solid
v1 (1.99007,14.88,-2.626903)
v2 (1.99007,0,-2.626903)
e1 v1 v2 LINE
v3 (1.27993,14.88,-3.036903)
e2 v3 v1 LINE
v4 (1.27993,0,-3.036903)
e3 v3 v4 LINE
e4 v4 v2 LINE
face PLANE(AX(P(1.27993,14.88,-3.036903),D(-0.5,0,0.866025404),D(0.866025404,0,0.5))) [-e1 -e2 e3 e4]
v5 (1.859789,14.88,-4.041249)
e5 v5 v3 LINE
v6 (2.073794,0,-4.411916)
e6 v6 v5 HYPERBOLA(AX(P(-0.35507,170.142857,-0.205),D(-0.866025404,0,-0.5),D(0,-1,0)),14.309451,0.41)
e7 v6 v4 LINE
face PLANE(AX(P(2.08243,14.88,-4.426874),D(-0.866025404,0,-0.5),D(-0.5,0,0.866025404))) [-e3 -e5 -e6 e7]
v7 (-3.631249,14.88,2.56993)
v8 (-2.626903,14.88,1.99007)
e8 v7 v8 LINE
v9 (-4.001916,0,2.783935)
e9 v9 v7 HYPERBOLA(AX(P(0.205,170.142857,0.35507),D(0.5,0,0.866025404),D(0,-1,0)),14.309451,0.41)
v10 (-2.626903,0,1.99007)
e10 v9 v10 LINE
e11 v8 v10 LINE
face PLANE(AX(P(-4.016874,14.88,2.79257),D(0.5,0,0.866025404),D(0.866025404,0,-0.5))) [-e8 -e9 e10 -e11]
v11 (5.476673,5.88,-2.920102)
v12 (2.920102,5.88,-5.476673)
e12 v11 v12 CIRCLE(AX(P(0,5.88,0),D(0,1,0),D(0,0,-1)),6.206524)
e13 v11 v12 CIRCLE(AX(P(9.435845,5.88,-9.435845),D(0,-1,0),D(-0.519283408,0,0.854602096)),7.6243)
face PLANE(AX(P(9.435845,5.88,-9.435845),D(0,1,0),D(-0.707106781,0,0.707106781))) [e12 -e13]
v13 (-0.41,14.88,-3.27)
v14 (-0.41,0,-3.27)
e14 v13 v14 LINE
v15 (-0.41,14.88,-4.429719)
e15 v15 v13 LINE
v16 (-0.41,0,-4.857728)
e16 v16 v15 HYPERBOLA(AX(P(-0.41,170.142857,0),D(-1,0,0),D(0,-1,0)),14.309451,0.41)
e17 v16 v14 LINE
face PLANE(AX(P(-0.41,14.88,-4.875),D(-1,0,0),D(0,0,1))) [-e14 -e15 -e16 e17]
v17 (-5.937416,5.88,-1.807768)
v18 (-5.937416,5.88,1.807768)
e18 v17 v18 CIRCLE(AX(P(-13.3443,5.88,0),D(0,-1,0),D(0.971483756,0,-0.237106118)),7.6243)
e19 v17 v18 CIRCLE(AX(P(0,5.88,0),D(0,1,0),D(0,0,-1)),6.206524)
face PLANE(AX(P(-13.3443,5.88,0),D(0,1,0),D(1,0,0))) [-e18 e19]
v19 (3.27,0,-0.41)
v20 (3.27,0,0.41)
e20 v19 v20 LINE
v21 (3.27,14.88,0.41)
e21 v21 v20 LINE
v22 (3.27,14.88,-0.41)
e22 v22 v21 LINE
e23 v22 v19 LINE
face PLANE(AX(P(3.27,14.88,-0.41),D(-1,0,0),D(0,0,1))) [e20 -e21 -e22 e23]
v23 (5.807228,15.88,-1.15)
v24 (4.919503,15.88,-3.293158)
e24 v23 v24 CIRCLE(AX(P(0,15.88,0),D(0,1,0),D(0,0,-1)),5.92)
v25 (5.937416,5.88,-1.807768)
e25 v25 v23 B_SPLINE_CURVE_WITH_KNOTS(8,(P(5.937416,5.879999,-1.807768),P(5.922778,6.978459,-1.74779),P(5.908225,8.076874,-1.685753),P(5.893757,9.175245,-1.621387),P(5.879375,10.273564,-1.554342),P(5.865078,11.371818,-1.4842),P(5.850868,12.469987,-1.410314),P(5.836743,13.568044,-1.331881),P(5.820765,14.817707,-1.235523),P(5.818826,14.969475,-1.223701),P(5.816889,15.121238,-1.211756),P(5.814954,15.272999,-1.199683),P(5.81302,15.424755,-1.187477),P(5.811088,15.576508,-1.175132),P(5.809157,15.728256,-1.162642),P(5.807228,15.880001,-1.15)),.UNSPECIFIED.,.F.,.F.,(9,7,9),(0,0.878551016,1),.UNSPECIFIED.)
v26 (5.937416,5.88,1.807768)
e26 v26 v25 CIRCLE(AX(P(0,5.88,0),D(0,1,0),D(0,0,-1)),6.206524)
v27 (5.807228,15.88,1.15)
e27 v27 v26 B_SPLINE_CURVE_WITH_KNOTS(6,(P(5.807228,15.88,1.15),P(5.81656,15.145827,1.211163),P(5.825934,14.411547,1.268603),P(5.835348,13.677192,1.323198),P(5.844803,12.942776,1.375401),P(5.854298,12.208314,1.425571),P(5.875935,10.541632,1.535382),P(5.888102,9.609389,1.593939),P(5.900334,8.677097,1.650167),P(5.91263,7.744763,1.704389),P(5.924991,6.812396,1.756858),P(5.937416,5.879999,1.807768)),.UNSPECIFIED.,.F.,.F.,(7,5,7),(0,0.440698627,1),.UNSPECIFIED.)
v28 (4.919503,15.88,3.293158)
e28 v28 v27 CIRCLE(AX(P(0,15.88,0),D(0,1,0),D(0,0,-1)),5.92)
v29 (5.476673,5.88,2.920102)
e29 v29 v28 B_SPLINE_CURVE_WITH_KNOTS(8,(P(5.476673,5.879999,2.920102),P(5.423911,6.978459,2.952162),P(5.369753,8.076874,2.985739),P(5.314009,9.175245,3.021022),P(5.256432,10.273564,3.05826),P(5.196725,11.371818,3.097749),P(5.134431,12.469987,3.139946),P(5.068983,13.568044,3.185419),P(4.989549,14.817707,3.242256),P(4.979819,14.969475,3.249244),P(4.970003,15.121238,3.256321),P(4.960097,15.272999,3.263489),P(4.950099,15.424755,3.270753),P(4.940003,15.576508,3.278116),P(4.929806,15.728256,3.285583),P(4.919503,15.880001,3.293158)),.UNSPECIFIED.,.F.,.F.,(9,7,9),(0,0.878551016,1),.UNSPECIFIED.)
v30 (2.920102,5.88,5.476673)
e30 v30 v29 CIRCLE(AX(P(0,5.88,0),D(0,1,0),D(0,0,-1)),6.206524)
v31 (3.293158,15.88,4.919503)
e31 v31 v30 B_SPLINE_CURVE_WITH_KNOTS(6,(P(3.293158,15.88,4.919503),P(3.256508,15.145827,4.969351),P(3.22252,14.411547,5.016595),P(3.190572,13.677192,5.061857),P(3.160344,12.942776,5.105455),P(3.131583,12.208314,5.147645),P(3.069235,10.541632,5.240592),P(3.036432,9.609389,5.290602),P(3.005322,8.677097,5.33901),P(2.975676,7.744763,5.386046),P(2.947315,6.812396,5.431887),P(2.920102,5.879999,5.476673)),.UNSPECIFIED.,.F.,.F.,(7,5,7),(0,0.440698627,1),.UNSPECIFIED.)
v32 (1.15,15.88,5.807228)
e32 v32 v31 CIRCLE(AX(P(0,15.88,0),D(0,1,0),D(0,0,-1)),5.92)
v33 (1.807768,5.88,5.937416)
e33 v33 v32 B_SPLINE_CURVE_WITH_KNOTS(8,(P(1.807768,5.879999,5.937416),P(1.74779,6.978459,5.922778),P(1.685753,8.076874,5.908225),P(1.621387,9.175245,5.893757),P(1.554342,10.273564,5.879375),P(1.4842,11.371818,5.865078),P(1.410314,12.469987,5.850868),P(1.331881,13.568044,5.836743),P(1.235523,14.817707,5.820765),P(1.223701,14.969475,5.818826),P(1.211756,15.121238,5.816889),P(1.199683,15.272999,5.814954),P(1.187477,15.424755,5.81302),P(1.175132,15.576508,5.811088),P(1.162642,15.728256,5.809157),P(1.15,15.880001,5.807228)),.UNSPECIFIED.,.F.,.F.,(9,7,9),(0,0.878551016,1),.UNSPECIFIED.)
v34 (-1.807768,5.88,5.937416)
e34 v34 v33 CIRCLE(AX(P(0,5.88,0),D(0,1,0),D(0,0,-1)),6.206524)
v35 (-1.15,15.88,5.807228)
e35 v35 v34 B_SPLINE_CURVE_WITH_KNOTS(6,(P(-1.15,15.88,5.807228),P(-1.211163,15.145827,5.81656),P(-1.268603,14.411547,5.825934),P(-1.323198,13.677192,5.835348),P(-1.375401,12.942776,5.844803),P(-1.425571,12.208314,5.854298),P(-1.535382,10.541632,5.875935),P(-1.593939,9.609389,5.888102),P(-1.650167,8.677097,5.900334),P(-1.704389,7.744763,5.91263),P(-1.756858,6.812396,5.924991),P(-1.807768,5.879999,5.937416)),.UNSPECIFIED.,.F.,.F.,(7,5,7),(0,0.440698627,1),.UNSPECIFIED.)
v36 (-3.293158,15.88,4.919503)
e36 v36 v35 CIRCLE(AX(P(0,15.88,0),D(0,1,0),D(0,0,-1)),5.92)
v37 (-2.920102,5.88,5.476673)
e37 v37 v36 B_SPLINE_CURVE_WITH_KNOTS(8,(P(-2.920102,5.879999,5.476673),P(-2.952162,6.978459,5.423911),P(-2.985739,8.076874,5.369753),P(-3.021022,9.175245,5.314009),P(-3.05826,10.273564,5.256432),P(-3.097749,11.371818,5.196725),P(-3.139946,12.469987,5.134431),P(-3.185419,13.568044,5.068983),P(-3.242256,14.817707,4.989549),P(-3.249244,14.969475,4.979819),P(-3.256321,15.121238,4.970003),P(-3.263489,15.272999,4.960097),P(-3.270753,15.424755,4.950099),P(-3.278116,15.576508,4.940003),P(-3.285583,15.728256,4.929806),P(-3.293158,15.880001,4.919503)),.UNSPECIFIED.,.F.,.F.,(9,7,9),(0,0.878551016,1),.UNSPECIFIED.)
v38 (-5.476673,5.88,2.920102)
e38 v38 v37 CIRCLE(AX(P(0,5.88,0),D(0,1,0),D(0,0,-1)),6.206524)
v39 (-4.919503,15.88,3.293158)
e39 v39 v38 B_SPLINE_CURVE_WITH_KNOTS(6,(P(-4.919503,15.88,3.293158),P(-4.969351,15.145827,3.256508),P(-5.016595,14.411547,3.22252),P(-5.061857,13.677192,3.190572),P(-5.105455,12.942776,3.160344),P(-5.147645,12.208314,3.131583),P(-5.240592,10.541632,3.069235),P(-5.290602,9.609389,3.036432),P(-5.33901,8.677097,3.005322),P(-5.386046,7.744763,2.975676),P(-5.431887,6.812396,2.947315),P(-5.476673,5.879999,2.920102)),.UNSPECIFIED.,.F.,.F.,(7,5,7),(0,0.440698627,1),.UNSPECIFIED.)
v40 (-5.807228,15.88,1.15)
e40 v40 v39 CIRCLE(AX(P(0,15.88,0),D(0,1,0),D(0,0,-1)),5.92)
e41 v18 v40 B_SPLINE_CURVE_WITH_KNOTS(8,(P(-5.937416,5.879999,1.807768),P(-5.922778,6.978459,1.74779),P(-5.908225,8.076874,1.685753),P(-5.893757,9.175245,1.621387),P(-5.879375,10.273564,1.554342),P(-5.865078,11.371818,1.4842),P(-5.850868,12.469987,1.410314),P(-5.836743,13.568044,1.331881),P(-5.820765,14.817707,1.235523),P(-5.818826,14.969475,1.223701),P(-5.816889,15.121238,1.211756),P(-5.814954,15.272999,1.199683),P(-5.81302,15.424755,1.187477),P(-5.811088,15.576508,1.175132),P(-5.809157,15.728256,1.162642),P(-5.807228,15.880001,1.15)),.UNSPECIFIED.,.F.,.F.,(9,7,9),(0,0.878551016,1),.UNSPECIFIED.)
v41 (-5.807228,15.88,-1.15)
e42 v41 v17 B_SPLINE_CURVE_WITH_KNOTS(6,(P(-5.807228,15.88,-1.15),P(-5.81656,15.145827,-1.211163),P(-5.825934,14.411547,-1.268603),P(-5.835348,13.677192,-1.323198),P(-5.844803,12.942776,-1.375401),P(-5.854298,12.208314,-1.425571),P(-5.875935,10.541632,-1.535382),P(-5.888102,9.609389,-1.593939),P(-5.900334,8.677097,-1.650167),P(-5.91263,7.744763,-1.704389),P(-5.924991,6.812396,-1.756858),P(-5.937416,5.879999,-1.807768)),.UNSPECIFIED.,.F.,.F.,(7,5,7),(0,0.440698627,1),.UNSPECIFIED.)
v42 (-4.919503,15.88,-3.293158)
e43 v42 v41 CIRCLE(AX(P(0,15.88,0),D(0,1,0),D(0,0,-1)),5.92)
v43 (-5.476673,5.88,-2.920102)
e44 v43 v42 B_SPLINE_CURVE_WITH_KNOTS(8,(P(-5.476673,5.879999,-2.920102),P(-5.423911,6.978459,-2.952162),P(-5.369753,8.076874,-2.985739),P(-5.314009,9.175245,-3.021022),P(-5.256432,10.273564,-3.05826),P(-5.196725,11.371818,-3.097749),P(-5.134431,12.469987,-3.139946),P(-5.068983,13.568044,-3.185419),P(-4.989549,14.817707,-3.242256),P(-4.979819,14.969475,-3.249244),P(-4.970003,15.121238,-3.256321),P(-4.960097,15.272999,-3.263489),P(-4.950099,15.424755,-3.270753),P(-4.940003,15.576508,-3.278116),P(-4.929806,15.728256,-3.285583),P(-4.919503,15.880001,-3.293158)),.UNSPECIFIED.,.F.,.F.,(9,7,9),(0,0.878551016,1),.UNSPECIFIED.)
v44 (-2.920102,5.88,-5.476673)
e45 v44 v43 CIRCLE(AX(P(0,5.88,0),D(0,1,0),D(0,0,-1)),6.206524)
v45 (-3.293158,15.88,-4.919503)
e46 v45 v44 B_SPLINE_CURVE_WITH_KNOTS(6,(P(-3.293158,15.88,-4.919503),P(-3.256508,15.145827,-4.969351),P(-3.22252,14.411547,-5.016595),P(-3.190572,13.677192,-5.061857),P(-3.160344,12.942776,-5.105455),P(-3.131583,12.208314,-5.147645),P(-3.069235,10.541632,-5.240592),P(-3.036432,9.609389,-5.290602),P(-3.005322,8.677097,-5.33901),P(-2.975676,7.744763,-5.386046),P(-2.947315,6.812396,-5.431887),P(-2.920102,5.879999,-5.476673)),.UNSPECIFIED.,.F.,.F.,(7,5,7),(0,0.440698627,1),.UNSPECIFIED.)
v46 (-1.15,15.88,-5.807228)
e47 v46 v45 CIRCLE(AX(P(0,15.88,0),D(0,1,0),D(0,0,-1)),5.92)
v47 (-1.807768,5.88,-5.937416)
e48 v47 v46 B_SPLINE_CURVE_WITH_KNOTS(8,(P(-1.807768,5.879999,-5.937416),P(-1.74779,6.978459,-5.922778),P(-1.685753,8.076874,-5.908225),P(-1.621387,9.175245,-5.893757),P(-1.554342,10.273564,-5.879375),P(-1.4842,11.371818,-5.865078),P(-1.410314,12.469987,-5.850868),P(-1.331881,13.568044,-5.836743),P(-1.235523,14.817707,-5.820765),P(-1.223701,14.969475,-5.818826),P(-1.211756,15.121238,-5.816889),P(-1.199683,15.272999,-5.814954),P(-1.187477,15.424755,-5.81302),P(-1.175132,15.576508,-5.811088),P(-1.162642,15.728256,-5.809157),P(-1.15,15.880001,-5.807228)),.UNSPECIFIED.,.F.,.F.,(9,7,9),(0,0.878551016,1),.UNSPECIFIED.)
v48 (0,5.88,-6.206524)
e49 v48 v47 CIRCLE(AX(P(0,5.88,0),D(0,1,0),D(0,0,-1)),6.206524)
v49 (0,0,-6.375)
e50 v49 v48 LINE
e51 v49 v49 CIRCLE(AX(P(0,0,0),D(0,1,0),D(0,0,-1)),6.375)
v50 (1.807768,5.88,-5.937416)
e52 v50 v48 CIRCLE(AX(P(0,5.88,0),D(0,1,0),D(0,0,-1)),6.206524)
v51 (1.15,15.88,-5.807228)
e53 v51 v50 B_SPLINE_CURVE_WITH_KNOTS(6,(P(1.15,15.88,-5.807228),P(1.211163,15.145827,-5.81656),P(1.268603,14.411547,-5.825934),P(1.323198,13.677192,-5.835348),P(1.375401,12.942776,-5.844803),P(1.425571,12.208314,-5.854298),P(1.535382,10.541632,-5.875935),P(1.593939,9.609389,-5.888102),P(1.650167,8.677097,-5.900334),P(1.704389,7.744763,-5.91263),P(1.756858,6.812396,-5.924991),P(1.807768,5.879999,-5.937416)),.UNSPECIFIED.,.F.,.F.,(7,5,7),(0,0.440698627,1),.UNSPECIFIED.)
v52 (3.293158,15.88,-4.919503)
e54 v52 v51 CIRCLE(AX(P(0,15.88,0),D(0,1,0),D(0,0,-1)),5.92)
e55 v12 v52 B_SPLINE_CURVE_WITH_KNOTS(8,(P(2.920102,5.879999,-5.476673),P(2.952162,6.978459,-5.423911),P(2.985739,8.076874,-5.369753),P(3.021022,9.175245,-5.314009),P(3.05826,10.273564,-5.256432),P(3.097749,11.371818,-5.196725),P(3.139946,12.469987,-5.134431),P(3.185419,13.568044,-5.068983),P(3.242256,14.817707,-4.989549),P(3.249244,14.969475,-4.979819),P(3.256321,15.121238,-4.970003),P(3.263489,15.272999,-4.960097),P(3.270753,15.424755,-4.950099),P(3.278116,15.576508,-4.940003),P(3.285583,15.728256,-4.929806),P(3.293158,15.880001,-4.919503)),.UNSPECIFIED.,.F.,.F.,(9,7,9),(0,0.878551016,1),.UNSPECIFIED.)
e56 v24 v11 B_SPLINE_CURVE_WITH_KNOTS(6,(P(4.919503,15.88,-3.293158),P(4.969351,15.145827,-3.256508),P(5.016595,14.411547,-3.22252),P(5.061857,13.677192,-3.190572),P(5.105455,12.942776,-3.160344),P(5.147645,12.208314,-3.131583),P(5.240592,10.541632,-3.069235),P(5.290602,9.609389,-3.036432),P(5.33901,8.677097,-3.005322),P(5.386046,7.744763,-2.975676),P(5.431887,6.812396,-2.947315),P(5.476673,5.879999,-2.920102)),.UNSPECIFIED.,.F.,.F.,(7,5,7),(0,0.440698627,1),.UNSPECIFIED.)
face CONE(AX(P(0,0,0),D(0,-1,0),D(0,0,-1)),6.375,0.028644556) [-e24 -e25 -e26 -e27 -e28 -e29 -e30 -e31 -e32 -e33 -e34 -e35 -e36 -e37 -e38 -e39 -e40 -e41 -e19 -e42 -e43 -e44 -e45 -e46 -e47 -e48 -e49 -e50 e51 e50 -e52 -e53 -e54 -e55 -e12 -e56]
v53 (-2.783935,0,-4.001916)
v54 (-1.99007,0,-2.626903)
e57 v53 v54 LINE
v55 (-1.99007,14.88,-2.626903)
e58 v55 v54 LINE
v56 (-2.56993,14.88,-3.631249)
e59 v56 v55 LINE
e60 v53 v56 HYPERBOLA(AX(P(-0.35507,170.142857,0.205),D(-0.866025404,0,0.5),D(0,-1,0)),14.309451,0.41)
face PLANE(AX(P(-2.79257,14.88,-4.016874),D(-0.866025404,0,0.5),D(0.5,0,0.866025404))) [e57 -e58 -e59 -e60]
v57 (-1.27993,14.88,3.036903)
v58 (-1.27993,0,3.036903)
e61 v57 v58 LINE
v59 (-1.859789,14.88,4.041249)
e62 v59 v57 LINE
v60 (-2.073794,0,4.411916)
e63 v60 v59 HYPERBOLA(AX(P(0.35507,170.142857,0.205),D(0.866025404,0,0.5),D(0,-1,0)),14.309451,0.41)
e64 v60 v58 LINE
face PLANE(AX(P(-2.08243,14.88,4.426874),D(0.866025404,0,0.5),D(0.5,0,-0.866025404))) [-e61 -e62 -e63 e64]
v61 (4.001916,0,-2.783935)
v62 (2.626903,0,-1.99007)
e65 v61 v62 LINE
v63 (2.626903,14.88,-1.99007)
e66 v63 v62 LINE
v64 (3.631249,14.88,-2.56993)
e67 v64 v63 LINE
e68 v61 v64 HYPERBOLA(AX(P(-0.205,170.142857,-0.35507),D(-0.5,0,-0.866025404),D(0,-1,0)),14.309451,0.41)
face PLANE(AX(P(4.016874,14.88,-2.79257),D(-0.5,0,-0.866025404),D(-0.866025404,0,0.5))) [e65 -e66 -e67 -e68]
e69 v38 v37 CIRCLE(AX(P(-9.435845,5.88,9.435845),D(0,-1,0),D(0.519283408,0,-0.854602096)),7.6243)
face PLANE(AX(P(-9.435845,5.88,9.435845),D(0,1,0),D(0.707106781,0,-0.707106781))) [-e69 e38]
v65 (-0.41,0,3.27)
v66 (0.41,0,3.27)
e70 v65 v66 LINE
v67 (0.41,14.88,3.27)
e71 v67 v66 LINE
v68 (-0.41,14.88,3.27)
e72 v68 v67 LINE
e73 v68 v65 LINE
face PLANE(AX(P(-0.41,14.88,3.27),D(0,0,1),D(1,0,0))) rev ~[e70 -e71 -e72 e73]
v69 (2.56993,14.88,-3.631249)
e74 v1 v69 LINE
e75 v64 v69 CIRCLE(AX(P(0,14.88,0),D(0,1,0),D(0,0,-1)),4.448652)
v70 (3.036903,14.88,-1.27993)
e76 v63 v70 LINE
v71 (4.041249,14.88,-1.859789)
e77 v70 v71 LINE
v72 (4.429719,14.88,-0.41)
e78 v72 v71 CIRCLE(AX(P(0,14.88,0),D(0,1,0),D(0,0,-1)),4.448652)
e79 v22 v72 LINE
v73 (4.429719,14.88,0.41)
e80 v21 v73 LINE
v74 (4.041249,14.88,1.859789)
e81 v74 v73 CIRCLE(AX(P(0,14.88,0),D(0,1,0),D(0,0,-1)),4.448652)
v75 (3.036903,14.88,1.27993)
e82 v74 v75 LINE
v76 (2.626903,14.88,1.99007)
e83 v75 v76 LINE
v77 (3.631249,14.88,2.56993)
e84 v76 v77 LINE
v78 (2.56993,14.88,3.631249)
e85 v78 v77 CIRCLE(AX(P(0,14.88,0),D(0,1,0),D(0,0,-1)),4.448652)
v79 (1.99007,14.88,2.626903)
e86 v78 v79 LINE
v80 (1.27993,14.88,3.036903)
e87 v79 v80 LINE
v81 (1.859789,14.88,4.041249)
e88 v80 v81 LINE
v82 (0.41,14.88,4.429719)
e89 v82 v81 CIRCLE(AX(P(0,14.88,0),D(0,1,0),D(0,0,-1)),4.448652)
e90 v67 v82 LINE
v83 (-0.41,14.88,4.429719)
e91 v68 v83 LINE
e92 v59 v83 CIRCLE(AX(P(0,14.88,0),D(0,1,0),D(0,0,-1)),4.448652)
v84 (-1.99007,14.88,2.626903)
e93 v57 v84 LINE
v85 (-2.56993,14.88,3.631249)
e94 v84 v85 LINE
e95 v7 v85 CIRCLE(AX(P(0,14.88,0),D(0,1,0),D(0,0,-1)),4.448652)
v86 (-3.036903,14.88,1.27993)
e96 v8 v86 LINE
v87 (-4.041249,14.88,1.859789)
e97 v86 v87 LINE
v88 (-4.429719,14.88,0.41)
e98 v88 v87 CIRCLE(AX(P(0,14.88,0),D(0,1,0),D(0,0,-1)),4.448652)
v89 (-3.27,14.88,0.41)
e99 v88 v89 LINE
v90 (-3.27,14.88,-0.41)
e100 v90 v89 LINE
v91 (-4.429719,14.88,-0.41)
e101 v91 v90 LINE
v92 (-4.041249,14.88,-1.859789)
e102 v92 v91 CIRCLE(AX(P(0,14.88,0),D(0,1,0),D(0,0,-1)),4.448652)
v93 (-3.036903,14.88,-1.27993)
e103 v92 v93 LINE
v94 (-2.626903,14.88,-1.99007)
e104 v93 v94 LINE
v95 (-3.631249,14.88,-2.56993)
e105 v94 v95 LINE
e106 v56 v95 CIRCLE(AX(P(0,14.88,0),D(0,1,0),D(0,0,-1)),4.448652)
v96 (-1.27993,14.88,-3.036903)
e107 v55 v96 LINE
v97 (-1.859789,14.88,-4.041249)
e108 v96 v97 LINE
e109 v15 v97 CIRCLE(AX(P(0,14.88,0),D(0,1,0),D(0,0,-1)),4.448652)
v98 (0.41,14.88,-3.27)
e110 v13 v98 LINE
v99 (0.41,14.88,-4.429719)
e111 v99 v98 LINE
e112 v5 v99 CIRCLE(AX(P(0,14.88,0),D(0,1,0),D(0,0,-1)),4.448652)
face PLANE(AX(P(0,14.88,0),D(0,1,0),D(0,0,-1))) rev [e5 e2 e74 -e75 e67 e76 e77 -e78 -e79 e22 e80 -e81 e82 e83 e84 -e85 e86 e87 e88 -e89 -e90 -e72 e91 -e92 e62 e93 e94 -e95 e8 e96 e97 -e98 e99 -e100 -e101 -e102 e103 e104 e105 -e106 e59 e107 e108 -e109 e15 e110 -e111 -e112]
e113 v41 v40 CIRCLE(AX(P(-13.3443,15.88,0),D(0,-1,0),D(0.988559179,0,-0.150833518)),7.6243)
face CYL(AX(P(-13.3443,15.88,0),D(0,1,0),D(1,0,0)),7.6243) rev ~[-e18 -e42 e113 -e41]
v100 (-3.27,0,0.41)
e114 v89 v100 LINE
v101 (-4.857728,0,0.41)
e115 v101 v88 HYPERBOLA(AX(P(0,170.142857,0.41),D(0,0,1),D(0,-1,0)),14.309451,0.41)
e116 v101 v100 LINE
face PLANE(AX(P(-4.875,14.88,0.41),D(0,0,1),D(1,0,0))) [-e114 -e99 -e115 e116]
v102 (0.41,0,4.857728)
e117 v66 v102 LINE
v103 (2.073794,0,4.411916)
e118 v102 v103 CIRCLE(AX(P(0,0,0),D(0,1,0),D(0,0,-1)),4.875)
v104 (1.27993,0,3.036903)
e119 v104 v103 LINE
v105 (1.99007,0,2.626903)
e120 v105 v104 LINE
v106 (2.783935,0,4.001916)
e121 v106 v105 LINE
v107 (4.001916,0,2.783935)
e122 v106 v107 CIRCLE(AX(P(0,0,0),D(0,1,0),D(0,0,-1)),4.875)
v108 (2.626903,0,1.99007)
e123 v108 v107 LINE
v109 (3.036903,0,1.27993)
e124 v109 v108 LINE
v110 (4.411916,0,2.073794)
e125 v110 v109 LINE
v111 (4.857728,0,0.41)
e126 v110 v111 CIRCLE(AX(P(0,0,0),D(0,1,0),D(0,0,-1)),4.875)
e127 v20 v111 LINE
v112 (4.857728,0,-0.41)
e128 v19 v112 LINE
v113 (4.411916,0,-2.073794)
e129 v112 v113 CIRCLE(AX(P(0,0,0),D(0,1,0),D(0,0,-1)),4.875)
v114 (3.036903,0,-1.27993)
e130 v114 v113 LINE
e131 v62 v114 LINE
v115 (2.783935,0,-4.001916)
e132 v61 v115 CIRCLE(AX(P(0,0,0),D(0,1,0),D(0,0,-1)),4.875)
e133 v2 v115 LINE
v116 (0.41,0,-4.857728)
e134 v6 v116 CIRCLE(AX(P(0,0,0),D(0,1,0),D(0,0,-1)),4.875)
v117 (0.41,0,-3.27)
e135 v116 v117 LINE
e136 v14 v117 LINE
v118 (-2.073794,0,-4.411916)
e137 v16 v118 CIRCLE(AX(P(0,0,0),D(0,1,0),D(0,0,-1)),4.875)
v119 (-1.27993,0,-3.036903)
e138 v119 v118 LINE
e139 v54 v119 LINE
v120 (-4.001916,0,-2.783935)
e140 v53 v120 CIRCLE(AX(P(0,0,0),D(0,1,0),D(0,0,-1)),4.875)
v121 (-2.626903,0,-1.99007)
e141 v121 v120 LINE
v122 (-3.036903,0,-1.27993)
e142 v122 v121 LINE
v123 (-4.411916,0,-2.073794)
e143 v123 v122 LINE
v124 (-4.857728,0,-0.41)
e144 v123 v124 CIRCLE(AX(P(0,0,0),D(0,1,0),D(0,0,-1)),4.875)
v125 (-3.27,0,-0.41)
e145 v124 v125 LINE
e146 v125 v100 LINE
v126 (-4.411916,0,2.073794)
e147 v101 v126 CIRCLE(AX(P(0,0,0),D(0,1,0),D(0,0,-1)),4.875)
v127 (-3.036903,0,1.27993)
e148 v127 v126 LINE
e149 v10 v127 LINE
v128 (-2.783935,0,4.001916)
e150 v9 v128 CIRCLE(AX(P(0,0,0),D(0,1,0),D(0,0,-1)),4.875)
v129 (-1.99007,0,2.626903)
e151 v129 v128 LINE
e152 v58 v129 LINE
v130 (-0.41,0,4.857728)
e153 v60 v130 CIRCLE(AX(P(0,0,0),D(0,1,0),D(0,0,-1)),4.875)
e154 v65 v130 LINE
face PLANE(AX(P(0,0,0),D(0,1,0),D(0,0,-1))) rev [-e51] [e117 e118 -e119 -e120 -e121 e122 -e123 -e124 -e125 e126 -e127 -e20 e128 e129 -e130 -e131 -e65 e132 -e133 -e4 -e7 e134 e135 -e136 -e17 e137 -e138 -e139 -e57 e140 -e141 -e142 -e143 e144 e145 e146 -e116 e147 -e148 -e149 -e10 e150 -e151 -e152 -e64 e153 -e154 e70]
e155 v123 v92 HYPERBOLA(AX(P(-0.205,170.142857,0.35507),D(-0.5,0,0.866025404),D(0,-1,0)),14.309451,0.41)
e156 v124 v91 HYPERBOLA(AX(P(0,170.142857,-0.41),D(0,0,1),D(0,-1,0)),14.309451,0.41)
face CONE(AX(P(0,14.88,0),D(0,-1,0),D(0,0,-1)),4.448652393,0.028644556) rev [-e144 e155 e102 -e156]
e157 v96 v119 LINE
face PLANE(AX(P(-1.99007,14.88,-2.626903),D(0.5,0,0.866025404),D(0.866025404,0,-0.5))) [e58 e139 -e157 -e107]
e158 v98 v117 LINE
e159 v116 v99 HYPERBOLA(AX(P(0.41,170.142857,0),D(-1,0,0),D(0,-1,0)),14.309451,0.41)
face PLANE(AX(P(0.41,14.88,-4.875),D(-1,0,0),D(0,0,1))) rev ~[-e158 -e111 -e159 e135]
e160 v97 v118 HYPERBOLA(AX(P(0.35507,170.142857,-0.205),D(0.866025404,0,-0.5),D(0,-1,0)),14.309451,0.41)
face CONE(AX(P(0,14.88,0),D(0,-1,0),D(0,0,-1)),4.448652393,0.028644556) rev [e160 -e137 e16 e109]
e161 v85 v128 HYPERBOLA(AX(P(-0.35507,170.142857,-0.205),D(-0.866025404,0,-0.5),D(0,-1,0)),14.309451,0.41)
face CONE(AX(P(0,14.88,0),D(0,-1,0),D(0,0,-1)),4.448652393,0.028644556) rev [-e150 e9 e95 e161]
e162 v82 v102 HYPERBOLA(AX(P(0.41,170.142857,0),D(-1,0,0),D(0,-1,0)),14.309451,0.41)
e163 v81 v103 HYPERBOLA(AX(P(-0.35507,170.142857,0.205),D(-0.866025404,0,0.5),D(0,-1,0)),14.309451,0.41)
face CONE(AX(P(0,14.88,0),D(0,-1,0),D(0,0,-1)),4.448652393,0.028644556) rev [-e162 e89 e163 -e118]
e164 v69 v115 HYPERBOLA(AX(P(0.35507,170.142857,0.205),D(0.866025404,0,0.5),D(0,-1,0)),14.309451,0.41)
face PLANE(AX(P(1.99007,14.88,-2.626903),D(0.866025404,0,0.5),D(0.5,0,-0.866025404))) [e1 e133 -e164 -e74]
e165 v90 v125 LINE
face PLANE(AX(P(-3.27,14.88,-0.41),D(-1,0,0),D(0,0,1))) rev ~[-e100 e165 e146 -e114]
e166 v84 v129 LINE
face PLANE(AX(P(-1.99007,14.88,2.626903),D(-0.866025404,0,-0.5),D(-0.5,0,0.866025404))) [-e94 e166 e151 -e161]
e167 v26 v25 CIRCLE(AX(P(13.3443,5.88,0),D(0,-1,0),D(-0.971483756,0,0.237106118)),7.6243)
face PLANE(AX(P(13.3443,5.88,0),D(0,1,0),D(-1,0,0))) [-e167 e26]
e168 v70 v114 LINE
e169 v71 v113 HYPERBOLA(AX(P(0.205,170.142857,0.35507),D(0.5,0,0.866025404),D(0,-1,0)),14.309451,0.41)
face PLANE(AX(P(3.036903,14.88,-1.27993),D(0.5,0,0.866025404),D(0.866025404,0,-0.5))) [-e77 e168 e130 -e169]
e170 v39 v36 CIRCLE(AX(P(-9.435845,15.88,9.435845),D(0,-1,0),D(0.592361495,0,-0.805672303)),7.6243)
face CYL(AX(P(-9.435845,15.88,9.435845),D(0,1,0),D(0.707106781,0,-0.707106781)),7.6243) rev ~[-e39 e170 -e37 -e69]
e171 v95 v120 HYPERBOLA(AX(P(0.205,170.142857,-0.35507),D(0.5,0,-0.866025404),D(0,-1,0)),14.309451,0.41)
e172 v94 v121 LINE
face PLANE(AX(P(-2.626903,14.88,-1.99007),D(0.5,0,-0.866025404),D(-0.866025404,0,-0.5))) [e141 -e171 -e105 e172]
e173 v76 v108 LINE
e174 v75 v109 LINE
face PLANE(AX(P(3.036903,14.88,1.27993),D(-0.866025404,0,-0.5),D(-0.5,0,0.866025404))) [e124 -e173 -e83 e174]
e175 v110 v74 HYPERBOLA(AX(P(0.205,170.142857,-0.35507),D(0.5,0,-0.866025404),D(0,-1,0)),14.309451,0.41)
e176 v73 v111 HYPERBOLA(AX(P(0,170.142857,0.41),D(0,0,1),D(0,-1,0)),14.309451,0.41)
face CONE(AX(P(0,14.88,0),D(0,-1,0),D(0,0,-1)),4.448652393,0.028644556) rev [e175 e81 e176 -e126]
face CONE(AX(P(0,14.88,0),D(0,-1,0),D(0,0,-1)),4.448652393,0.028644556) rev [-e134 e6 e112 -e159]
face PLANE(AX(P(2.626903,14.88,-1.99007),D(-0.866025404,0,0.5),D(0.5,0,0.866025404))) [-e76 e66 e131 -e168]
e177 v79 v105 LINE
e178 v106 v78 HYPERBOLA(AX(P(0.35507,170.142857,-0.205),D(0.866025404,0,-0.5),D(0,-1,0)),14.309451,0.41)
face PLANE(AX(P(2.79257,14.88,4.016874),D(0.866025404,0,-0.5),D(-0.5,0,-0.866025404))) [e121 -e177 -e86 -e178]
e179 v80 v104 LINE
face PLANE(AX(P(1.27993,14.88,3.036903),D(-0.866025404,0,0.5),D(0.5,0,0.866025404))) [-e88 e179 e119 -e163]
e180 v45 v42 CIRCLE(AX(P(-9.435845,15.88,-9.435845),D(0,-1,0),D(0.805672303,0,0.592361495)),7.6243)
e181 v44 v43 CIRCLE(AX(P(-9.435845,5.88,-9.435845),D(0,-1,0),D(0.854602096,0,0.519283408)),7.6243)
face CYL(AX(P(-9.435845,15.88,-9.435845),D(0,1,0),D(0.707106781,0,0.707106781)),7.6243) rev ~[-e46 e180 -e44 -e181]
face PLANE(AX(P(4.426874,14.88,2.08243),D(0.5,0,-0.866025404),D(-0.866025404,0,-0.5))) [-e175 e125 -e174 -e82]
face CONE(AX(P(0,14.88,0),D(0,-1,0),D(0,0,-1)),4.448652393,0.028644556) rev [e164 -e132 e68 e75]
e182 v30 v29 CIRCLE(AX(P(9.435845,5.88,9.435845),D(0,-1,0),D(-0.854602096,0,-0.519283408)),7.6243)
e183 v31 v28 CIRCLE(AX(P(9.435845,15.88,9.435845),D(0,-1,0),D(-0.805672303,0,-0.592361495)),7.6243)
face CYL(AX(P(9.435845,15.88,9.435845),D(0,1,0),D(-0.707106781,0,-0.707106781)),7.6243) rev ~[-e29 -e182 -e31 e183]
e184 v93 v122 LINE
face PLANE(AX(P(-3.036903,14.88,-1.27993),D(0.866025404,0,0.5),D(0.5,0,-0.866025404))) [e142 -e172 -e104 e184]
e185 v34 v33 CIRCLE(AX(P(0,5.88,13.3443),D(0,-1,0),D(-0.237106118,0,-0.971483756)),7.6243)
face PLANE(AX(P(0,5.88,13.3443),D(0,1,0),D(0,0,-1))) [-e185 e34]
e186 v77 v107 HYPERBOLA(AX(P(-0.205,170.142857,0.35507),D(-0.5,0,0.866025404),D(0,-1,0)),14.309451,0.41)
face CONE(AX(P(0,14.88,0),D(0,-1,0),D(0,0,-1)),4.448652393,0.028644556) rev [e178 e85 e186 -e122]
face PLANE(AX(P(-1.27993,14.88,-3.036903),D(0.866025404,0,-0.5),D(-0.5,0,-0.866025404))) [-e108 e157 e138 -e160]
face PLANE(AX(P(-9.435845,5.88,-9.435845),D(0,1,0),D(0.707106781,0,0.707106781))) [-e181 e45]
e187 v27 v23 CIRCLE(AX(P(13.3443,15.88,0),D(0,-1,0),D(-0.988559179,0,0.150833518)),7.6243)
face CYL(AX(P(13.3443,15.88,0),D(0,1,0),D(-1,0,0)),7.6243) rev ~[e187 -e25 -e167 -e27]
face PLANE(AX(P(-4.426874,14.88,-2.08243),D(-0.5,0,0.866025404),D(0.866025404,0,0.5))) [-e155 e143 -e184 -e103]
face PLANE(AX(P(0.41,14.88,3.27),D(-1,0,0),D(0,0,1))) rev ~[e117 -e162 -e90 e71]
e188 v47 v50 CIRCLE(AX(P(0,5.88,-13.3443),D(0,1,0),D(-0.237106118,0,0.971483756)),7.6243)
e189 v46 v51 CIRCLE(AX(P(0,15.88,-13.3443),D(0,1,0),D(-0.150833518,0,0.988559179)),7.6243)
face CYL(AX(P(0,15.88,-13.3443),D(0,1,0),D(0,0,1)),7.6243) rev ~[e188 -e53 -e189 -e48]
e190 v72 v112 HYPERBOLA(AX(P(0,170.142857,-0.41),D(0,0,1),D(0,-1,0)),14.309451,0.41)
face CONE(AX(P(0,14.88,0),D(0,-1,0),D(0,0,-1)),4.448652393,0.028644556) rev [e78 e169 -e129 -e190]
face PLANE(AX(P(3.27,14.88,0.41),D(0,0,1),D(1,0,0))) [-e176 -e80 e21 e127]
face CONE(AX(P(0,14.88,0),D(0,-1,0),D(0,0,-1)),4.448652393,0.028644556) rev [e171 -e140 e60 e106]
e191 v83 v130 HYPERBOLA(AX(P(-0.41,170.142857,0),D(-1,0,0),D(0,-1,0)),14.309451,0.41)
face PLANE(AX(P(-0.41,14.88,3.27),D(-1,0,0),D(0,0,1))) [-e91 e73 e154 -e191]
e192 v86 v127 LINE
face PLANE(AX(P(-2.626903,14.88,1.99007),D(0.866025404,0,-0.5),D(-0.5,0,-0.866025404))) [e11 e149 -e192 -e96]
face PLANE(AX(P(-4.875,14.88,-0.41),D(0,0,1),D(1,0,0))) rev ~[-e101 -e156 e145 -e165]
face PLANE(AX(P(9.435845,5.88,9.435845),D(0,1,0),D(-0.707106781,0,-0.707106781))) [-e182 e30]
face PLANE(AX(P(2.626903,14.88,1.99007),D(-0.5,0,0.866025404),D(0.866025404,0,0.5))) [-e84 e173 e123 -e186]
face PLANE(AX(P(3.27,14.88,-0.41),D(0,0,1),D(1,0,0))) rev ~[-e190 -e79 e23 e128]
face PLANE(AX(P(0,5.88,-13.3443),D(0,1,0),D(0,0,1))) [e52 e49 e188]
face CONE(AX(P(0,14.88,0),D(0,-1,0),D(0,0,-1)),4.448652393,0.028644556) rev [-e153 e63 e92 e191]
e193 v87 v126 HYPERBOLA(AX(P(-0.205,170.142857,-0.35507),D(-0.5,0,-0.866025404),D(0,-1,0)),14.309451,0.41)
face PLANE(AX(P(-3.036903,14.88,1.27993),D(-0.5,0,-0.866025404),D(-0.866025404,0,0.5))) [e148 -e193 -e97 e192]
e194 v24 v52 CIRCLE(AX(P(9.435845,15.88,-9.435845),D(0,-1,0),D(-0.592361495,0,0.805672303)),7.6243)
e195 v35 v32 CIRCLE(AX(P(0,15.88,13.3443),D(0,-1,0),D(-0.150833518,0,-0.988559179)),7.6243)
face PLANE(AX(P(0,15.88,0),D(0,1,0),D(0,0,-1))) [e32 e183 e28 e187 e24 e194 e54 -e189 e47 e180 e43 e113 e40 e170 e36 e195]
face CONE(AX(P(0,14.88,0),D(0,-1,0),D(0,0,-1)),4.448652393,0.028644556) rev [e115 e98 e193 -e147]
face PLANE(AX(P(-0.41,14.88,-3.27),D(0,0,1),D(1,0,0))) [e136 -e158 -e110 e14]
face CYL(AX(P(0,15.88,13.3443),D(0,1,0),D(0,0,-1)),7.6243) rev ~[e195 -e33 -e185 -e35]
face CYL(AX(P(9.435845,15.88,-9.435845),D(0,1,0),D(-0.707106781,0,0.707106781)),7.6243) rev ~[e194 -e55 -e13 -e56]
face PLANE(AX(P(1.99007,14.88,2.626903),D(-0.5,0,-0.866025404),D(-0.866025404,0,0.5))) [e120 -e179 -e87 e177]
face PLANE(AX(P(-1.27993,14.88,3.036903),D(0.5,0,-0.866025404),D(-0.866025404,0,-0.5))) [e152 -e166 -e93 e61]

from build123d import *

# Parameters (mm, degrees)
SKETCH2_R           = 7.624300038
CUT_EXTRUDE1_DEPTH  = 10
CIRPATTERN1_COUNT   = 8
SKETCH3_W           = 1.605
SKETCH3_H           = 0.82
SKETCH3_W_2         = 0.82
SKETCH3_H_2         = 1.605
BOSS_EXTRUDE1_DEPTH = 14.88


with BuildPart() as part:
    # Sketch1 → Revolve1 (revolve)
    with BuildSketch(Plane.XY, mode=Mode.PRIVATE) as revolve1_sk:
        Polygon((-6.375, 0), (-5.92, 15.88), (0, 15.88), (0, 14.88), (-4.448652393, 14.88), (-4.875, 0), align=None)
    revolve(revolve1_sk.sketch.rotate(Axis((0, 0, 0), (0, 1, 0)), 270), axis=Axis((0, 0, 0), (0, 1, 0)))

    # Sketch2 → Cut-Extrude1 (cut)
    with BuildSketch(Plane(origin=(0, 15.88, 0), x_dir=(1, 0, 0), z_dir=(0, 1, 0))):
        with Locations((-13.344300038, 0)):
            Circle(SKETCH2_R)
    cut_extrude1 = extrude(amount=-CUT_EXTRUDE1_DEPTH, mode=Mode.SUBTRACT)

    # CirPattern1: Cut-Extrude1 ×8 about axis
    cirpattern1_axis = Axis((0, 0, 0), (0, 1, 0))
    for i in range(1, CIRPATTERN1_COUNT):
        add(cut_extrude1.rotate(cirpattern1_axis, i * 360 / CIRPATTERN1_COUNT), mode=Mode.SUBTRACT)

    # Sketch3 → Boss-Extrude1 (add)
    with BuildSketch(Plane.XZ.offset(-14.88)):
        with Locations((-4.0725, 0)):
            Rectangle(SKETCH3_W, SKETCH3_H)
        Polygon((-4.016873843, 2.792570416), (-2.62690307, 1.990070416), (-3.03690307, 1.279929584), (-4.426873843, 2.082429584), align=None)
        Polygon((-2.082429584, 4.426873843), (-1.279929584, 3.03690307), (-1.990070416, 2.62690307), (-2.792570416, 4.016873843), align=None)
        with Locations((0, 4.0725)):
            Rectangle(SKETCH3_W_2, SKETCH3_H_2)
        Polygon((2.792570416, 4.016873843), (1.990070416, 2.62690307), (1.279929584, 3.03690307), (2.082429584, 4.426873843), align=None)
        Polygon((4.426873843, 2.082429584), (3.03690307, 1.279929584), (2.62690307, 1.990070416), (4.016873843, 2.792570416), align=None)
        with Locations((4.0725, 0)):
            Rectangle(SKETCH3_W, SKETCH3_H)
        Polygon((4.016873843, -2.792570416), (2.62690307, -1.990070416), (3.03690307, -1.279929584), (4.426873843, -2.082429584), align=None)
        Polygon((2.082429584, -4.426873843), (1.279929584, -3.03690307), (1.990070416, -2.62690307), (2.792570416, -4.016873843), align=None)
        with Locations((0, -4.0725)):
            Rectangle(SKETCH3_W_2, SKETCH3_H_2)
        Polygon((-2.792570416, -4.016873843), (-1.990070416, -2.62690307), (-1.279929584, -3.03690307), (-2.082429584, -4.426873843), align=None)
        Polygon((-4.426873843, -2.082429584), (-3.03690307, -1.279929584), (-2.62690307, -1.990070416), (-4.016873843, -2.792570416), align=None)
    extrude(amount=BOSS_EXTRUDE1_DEPTH)


solid = part.part
